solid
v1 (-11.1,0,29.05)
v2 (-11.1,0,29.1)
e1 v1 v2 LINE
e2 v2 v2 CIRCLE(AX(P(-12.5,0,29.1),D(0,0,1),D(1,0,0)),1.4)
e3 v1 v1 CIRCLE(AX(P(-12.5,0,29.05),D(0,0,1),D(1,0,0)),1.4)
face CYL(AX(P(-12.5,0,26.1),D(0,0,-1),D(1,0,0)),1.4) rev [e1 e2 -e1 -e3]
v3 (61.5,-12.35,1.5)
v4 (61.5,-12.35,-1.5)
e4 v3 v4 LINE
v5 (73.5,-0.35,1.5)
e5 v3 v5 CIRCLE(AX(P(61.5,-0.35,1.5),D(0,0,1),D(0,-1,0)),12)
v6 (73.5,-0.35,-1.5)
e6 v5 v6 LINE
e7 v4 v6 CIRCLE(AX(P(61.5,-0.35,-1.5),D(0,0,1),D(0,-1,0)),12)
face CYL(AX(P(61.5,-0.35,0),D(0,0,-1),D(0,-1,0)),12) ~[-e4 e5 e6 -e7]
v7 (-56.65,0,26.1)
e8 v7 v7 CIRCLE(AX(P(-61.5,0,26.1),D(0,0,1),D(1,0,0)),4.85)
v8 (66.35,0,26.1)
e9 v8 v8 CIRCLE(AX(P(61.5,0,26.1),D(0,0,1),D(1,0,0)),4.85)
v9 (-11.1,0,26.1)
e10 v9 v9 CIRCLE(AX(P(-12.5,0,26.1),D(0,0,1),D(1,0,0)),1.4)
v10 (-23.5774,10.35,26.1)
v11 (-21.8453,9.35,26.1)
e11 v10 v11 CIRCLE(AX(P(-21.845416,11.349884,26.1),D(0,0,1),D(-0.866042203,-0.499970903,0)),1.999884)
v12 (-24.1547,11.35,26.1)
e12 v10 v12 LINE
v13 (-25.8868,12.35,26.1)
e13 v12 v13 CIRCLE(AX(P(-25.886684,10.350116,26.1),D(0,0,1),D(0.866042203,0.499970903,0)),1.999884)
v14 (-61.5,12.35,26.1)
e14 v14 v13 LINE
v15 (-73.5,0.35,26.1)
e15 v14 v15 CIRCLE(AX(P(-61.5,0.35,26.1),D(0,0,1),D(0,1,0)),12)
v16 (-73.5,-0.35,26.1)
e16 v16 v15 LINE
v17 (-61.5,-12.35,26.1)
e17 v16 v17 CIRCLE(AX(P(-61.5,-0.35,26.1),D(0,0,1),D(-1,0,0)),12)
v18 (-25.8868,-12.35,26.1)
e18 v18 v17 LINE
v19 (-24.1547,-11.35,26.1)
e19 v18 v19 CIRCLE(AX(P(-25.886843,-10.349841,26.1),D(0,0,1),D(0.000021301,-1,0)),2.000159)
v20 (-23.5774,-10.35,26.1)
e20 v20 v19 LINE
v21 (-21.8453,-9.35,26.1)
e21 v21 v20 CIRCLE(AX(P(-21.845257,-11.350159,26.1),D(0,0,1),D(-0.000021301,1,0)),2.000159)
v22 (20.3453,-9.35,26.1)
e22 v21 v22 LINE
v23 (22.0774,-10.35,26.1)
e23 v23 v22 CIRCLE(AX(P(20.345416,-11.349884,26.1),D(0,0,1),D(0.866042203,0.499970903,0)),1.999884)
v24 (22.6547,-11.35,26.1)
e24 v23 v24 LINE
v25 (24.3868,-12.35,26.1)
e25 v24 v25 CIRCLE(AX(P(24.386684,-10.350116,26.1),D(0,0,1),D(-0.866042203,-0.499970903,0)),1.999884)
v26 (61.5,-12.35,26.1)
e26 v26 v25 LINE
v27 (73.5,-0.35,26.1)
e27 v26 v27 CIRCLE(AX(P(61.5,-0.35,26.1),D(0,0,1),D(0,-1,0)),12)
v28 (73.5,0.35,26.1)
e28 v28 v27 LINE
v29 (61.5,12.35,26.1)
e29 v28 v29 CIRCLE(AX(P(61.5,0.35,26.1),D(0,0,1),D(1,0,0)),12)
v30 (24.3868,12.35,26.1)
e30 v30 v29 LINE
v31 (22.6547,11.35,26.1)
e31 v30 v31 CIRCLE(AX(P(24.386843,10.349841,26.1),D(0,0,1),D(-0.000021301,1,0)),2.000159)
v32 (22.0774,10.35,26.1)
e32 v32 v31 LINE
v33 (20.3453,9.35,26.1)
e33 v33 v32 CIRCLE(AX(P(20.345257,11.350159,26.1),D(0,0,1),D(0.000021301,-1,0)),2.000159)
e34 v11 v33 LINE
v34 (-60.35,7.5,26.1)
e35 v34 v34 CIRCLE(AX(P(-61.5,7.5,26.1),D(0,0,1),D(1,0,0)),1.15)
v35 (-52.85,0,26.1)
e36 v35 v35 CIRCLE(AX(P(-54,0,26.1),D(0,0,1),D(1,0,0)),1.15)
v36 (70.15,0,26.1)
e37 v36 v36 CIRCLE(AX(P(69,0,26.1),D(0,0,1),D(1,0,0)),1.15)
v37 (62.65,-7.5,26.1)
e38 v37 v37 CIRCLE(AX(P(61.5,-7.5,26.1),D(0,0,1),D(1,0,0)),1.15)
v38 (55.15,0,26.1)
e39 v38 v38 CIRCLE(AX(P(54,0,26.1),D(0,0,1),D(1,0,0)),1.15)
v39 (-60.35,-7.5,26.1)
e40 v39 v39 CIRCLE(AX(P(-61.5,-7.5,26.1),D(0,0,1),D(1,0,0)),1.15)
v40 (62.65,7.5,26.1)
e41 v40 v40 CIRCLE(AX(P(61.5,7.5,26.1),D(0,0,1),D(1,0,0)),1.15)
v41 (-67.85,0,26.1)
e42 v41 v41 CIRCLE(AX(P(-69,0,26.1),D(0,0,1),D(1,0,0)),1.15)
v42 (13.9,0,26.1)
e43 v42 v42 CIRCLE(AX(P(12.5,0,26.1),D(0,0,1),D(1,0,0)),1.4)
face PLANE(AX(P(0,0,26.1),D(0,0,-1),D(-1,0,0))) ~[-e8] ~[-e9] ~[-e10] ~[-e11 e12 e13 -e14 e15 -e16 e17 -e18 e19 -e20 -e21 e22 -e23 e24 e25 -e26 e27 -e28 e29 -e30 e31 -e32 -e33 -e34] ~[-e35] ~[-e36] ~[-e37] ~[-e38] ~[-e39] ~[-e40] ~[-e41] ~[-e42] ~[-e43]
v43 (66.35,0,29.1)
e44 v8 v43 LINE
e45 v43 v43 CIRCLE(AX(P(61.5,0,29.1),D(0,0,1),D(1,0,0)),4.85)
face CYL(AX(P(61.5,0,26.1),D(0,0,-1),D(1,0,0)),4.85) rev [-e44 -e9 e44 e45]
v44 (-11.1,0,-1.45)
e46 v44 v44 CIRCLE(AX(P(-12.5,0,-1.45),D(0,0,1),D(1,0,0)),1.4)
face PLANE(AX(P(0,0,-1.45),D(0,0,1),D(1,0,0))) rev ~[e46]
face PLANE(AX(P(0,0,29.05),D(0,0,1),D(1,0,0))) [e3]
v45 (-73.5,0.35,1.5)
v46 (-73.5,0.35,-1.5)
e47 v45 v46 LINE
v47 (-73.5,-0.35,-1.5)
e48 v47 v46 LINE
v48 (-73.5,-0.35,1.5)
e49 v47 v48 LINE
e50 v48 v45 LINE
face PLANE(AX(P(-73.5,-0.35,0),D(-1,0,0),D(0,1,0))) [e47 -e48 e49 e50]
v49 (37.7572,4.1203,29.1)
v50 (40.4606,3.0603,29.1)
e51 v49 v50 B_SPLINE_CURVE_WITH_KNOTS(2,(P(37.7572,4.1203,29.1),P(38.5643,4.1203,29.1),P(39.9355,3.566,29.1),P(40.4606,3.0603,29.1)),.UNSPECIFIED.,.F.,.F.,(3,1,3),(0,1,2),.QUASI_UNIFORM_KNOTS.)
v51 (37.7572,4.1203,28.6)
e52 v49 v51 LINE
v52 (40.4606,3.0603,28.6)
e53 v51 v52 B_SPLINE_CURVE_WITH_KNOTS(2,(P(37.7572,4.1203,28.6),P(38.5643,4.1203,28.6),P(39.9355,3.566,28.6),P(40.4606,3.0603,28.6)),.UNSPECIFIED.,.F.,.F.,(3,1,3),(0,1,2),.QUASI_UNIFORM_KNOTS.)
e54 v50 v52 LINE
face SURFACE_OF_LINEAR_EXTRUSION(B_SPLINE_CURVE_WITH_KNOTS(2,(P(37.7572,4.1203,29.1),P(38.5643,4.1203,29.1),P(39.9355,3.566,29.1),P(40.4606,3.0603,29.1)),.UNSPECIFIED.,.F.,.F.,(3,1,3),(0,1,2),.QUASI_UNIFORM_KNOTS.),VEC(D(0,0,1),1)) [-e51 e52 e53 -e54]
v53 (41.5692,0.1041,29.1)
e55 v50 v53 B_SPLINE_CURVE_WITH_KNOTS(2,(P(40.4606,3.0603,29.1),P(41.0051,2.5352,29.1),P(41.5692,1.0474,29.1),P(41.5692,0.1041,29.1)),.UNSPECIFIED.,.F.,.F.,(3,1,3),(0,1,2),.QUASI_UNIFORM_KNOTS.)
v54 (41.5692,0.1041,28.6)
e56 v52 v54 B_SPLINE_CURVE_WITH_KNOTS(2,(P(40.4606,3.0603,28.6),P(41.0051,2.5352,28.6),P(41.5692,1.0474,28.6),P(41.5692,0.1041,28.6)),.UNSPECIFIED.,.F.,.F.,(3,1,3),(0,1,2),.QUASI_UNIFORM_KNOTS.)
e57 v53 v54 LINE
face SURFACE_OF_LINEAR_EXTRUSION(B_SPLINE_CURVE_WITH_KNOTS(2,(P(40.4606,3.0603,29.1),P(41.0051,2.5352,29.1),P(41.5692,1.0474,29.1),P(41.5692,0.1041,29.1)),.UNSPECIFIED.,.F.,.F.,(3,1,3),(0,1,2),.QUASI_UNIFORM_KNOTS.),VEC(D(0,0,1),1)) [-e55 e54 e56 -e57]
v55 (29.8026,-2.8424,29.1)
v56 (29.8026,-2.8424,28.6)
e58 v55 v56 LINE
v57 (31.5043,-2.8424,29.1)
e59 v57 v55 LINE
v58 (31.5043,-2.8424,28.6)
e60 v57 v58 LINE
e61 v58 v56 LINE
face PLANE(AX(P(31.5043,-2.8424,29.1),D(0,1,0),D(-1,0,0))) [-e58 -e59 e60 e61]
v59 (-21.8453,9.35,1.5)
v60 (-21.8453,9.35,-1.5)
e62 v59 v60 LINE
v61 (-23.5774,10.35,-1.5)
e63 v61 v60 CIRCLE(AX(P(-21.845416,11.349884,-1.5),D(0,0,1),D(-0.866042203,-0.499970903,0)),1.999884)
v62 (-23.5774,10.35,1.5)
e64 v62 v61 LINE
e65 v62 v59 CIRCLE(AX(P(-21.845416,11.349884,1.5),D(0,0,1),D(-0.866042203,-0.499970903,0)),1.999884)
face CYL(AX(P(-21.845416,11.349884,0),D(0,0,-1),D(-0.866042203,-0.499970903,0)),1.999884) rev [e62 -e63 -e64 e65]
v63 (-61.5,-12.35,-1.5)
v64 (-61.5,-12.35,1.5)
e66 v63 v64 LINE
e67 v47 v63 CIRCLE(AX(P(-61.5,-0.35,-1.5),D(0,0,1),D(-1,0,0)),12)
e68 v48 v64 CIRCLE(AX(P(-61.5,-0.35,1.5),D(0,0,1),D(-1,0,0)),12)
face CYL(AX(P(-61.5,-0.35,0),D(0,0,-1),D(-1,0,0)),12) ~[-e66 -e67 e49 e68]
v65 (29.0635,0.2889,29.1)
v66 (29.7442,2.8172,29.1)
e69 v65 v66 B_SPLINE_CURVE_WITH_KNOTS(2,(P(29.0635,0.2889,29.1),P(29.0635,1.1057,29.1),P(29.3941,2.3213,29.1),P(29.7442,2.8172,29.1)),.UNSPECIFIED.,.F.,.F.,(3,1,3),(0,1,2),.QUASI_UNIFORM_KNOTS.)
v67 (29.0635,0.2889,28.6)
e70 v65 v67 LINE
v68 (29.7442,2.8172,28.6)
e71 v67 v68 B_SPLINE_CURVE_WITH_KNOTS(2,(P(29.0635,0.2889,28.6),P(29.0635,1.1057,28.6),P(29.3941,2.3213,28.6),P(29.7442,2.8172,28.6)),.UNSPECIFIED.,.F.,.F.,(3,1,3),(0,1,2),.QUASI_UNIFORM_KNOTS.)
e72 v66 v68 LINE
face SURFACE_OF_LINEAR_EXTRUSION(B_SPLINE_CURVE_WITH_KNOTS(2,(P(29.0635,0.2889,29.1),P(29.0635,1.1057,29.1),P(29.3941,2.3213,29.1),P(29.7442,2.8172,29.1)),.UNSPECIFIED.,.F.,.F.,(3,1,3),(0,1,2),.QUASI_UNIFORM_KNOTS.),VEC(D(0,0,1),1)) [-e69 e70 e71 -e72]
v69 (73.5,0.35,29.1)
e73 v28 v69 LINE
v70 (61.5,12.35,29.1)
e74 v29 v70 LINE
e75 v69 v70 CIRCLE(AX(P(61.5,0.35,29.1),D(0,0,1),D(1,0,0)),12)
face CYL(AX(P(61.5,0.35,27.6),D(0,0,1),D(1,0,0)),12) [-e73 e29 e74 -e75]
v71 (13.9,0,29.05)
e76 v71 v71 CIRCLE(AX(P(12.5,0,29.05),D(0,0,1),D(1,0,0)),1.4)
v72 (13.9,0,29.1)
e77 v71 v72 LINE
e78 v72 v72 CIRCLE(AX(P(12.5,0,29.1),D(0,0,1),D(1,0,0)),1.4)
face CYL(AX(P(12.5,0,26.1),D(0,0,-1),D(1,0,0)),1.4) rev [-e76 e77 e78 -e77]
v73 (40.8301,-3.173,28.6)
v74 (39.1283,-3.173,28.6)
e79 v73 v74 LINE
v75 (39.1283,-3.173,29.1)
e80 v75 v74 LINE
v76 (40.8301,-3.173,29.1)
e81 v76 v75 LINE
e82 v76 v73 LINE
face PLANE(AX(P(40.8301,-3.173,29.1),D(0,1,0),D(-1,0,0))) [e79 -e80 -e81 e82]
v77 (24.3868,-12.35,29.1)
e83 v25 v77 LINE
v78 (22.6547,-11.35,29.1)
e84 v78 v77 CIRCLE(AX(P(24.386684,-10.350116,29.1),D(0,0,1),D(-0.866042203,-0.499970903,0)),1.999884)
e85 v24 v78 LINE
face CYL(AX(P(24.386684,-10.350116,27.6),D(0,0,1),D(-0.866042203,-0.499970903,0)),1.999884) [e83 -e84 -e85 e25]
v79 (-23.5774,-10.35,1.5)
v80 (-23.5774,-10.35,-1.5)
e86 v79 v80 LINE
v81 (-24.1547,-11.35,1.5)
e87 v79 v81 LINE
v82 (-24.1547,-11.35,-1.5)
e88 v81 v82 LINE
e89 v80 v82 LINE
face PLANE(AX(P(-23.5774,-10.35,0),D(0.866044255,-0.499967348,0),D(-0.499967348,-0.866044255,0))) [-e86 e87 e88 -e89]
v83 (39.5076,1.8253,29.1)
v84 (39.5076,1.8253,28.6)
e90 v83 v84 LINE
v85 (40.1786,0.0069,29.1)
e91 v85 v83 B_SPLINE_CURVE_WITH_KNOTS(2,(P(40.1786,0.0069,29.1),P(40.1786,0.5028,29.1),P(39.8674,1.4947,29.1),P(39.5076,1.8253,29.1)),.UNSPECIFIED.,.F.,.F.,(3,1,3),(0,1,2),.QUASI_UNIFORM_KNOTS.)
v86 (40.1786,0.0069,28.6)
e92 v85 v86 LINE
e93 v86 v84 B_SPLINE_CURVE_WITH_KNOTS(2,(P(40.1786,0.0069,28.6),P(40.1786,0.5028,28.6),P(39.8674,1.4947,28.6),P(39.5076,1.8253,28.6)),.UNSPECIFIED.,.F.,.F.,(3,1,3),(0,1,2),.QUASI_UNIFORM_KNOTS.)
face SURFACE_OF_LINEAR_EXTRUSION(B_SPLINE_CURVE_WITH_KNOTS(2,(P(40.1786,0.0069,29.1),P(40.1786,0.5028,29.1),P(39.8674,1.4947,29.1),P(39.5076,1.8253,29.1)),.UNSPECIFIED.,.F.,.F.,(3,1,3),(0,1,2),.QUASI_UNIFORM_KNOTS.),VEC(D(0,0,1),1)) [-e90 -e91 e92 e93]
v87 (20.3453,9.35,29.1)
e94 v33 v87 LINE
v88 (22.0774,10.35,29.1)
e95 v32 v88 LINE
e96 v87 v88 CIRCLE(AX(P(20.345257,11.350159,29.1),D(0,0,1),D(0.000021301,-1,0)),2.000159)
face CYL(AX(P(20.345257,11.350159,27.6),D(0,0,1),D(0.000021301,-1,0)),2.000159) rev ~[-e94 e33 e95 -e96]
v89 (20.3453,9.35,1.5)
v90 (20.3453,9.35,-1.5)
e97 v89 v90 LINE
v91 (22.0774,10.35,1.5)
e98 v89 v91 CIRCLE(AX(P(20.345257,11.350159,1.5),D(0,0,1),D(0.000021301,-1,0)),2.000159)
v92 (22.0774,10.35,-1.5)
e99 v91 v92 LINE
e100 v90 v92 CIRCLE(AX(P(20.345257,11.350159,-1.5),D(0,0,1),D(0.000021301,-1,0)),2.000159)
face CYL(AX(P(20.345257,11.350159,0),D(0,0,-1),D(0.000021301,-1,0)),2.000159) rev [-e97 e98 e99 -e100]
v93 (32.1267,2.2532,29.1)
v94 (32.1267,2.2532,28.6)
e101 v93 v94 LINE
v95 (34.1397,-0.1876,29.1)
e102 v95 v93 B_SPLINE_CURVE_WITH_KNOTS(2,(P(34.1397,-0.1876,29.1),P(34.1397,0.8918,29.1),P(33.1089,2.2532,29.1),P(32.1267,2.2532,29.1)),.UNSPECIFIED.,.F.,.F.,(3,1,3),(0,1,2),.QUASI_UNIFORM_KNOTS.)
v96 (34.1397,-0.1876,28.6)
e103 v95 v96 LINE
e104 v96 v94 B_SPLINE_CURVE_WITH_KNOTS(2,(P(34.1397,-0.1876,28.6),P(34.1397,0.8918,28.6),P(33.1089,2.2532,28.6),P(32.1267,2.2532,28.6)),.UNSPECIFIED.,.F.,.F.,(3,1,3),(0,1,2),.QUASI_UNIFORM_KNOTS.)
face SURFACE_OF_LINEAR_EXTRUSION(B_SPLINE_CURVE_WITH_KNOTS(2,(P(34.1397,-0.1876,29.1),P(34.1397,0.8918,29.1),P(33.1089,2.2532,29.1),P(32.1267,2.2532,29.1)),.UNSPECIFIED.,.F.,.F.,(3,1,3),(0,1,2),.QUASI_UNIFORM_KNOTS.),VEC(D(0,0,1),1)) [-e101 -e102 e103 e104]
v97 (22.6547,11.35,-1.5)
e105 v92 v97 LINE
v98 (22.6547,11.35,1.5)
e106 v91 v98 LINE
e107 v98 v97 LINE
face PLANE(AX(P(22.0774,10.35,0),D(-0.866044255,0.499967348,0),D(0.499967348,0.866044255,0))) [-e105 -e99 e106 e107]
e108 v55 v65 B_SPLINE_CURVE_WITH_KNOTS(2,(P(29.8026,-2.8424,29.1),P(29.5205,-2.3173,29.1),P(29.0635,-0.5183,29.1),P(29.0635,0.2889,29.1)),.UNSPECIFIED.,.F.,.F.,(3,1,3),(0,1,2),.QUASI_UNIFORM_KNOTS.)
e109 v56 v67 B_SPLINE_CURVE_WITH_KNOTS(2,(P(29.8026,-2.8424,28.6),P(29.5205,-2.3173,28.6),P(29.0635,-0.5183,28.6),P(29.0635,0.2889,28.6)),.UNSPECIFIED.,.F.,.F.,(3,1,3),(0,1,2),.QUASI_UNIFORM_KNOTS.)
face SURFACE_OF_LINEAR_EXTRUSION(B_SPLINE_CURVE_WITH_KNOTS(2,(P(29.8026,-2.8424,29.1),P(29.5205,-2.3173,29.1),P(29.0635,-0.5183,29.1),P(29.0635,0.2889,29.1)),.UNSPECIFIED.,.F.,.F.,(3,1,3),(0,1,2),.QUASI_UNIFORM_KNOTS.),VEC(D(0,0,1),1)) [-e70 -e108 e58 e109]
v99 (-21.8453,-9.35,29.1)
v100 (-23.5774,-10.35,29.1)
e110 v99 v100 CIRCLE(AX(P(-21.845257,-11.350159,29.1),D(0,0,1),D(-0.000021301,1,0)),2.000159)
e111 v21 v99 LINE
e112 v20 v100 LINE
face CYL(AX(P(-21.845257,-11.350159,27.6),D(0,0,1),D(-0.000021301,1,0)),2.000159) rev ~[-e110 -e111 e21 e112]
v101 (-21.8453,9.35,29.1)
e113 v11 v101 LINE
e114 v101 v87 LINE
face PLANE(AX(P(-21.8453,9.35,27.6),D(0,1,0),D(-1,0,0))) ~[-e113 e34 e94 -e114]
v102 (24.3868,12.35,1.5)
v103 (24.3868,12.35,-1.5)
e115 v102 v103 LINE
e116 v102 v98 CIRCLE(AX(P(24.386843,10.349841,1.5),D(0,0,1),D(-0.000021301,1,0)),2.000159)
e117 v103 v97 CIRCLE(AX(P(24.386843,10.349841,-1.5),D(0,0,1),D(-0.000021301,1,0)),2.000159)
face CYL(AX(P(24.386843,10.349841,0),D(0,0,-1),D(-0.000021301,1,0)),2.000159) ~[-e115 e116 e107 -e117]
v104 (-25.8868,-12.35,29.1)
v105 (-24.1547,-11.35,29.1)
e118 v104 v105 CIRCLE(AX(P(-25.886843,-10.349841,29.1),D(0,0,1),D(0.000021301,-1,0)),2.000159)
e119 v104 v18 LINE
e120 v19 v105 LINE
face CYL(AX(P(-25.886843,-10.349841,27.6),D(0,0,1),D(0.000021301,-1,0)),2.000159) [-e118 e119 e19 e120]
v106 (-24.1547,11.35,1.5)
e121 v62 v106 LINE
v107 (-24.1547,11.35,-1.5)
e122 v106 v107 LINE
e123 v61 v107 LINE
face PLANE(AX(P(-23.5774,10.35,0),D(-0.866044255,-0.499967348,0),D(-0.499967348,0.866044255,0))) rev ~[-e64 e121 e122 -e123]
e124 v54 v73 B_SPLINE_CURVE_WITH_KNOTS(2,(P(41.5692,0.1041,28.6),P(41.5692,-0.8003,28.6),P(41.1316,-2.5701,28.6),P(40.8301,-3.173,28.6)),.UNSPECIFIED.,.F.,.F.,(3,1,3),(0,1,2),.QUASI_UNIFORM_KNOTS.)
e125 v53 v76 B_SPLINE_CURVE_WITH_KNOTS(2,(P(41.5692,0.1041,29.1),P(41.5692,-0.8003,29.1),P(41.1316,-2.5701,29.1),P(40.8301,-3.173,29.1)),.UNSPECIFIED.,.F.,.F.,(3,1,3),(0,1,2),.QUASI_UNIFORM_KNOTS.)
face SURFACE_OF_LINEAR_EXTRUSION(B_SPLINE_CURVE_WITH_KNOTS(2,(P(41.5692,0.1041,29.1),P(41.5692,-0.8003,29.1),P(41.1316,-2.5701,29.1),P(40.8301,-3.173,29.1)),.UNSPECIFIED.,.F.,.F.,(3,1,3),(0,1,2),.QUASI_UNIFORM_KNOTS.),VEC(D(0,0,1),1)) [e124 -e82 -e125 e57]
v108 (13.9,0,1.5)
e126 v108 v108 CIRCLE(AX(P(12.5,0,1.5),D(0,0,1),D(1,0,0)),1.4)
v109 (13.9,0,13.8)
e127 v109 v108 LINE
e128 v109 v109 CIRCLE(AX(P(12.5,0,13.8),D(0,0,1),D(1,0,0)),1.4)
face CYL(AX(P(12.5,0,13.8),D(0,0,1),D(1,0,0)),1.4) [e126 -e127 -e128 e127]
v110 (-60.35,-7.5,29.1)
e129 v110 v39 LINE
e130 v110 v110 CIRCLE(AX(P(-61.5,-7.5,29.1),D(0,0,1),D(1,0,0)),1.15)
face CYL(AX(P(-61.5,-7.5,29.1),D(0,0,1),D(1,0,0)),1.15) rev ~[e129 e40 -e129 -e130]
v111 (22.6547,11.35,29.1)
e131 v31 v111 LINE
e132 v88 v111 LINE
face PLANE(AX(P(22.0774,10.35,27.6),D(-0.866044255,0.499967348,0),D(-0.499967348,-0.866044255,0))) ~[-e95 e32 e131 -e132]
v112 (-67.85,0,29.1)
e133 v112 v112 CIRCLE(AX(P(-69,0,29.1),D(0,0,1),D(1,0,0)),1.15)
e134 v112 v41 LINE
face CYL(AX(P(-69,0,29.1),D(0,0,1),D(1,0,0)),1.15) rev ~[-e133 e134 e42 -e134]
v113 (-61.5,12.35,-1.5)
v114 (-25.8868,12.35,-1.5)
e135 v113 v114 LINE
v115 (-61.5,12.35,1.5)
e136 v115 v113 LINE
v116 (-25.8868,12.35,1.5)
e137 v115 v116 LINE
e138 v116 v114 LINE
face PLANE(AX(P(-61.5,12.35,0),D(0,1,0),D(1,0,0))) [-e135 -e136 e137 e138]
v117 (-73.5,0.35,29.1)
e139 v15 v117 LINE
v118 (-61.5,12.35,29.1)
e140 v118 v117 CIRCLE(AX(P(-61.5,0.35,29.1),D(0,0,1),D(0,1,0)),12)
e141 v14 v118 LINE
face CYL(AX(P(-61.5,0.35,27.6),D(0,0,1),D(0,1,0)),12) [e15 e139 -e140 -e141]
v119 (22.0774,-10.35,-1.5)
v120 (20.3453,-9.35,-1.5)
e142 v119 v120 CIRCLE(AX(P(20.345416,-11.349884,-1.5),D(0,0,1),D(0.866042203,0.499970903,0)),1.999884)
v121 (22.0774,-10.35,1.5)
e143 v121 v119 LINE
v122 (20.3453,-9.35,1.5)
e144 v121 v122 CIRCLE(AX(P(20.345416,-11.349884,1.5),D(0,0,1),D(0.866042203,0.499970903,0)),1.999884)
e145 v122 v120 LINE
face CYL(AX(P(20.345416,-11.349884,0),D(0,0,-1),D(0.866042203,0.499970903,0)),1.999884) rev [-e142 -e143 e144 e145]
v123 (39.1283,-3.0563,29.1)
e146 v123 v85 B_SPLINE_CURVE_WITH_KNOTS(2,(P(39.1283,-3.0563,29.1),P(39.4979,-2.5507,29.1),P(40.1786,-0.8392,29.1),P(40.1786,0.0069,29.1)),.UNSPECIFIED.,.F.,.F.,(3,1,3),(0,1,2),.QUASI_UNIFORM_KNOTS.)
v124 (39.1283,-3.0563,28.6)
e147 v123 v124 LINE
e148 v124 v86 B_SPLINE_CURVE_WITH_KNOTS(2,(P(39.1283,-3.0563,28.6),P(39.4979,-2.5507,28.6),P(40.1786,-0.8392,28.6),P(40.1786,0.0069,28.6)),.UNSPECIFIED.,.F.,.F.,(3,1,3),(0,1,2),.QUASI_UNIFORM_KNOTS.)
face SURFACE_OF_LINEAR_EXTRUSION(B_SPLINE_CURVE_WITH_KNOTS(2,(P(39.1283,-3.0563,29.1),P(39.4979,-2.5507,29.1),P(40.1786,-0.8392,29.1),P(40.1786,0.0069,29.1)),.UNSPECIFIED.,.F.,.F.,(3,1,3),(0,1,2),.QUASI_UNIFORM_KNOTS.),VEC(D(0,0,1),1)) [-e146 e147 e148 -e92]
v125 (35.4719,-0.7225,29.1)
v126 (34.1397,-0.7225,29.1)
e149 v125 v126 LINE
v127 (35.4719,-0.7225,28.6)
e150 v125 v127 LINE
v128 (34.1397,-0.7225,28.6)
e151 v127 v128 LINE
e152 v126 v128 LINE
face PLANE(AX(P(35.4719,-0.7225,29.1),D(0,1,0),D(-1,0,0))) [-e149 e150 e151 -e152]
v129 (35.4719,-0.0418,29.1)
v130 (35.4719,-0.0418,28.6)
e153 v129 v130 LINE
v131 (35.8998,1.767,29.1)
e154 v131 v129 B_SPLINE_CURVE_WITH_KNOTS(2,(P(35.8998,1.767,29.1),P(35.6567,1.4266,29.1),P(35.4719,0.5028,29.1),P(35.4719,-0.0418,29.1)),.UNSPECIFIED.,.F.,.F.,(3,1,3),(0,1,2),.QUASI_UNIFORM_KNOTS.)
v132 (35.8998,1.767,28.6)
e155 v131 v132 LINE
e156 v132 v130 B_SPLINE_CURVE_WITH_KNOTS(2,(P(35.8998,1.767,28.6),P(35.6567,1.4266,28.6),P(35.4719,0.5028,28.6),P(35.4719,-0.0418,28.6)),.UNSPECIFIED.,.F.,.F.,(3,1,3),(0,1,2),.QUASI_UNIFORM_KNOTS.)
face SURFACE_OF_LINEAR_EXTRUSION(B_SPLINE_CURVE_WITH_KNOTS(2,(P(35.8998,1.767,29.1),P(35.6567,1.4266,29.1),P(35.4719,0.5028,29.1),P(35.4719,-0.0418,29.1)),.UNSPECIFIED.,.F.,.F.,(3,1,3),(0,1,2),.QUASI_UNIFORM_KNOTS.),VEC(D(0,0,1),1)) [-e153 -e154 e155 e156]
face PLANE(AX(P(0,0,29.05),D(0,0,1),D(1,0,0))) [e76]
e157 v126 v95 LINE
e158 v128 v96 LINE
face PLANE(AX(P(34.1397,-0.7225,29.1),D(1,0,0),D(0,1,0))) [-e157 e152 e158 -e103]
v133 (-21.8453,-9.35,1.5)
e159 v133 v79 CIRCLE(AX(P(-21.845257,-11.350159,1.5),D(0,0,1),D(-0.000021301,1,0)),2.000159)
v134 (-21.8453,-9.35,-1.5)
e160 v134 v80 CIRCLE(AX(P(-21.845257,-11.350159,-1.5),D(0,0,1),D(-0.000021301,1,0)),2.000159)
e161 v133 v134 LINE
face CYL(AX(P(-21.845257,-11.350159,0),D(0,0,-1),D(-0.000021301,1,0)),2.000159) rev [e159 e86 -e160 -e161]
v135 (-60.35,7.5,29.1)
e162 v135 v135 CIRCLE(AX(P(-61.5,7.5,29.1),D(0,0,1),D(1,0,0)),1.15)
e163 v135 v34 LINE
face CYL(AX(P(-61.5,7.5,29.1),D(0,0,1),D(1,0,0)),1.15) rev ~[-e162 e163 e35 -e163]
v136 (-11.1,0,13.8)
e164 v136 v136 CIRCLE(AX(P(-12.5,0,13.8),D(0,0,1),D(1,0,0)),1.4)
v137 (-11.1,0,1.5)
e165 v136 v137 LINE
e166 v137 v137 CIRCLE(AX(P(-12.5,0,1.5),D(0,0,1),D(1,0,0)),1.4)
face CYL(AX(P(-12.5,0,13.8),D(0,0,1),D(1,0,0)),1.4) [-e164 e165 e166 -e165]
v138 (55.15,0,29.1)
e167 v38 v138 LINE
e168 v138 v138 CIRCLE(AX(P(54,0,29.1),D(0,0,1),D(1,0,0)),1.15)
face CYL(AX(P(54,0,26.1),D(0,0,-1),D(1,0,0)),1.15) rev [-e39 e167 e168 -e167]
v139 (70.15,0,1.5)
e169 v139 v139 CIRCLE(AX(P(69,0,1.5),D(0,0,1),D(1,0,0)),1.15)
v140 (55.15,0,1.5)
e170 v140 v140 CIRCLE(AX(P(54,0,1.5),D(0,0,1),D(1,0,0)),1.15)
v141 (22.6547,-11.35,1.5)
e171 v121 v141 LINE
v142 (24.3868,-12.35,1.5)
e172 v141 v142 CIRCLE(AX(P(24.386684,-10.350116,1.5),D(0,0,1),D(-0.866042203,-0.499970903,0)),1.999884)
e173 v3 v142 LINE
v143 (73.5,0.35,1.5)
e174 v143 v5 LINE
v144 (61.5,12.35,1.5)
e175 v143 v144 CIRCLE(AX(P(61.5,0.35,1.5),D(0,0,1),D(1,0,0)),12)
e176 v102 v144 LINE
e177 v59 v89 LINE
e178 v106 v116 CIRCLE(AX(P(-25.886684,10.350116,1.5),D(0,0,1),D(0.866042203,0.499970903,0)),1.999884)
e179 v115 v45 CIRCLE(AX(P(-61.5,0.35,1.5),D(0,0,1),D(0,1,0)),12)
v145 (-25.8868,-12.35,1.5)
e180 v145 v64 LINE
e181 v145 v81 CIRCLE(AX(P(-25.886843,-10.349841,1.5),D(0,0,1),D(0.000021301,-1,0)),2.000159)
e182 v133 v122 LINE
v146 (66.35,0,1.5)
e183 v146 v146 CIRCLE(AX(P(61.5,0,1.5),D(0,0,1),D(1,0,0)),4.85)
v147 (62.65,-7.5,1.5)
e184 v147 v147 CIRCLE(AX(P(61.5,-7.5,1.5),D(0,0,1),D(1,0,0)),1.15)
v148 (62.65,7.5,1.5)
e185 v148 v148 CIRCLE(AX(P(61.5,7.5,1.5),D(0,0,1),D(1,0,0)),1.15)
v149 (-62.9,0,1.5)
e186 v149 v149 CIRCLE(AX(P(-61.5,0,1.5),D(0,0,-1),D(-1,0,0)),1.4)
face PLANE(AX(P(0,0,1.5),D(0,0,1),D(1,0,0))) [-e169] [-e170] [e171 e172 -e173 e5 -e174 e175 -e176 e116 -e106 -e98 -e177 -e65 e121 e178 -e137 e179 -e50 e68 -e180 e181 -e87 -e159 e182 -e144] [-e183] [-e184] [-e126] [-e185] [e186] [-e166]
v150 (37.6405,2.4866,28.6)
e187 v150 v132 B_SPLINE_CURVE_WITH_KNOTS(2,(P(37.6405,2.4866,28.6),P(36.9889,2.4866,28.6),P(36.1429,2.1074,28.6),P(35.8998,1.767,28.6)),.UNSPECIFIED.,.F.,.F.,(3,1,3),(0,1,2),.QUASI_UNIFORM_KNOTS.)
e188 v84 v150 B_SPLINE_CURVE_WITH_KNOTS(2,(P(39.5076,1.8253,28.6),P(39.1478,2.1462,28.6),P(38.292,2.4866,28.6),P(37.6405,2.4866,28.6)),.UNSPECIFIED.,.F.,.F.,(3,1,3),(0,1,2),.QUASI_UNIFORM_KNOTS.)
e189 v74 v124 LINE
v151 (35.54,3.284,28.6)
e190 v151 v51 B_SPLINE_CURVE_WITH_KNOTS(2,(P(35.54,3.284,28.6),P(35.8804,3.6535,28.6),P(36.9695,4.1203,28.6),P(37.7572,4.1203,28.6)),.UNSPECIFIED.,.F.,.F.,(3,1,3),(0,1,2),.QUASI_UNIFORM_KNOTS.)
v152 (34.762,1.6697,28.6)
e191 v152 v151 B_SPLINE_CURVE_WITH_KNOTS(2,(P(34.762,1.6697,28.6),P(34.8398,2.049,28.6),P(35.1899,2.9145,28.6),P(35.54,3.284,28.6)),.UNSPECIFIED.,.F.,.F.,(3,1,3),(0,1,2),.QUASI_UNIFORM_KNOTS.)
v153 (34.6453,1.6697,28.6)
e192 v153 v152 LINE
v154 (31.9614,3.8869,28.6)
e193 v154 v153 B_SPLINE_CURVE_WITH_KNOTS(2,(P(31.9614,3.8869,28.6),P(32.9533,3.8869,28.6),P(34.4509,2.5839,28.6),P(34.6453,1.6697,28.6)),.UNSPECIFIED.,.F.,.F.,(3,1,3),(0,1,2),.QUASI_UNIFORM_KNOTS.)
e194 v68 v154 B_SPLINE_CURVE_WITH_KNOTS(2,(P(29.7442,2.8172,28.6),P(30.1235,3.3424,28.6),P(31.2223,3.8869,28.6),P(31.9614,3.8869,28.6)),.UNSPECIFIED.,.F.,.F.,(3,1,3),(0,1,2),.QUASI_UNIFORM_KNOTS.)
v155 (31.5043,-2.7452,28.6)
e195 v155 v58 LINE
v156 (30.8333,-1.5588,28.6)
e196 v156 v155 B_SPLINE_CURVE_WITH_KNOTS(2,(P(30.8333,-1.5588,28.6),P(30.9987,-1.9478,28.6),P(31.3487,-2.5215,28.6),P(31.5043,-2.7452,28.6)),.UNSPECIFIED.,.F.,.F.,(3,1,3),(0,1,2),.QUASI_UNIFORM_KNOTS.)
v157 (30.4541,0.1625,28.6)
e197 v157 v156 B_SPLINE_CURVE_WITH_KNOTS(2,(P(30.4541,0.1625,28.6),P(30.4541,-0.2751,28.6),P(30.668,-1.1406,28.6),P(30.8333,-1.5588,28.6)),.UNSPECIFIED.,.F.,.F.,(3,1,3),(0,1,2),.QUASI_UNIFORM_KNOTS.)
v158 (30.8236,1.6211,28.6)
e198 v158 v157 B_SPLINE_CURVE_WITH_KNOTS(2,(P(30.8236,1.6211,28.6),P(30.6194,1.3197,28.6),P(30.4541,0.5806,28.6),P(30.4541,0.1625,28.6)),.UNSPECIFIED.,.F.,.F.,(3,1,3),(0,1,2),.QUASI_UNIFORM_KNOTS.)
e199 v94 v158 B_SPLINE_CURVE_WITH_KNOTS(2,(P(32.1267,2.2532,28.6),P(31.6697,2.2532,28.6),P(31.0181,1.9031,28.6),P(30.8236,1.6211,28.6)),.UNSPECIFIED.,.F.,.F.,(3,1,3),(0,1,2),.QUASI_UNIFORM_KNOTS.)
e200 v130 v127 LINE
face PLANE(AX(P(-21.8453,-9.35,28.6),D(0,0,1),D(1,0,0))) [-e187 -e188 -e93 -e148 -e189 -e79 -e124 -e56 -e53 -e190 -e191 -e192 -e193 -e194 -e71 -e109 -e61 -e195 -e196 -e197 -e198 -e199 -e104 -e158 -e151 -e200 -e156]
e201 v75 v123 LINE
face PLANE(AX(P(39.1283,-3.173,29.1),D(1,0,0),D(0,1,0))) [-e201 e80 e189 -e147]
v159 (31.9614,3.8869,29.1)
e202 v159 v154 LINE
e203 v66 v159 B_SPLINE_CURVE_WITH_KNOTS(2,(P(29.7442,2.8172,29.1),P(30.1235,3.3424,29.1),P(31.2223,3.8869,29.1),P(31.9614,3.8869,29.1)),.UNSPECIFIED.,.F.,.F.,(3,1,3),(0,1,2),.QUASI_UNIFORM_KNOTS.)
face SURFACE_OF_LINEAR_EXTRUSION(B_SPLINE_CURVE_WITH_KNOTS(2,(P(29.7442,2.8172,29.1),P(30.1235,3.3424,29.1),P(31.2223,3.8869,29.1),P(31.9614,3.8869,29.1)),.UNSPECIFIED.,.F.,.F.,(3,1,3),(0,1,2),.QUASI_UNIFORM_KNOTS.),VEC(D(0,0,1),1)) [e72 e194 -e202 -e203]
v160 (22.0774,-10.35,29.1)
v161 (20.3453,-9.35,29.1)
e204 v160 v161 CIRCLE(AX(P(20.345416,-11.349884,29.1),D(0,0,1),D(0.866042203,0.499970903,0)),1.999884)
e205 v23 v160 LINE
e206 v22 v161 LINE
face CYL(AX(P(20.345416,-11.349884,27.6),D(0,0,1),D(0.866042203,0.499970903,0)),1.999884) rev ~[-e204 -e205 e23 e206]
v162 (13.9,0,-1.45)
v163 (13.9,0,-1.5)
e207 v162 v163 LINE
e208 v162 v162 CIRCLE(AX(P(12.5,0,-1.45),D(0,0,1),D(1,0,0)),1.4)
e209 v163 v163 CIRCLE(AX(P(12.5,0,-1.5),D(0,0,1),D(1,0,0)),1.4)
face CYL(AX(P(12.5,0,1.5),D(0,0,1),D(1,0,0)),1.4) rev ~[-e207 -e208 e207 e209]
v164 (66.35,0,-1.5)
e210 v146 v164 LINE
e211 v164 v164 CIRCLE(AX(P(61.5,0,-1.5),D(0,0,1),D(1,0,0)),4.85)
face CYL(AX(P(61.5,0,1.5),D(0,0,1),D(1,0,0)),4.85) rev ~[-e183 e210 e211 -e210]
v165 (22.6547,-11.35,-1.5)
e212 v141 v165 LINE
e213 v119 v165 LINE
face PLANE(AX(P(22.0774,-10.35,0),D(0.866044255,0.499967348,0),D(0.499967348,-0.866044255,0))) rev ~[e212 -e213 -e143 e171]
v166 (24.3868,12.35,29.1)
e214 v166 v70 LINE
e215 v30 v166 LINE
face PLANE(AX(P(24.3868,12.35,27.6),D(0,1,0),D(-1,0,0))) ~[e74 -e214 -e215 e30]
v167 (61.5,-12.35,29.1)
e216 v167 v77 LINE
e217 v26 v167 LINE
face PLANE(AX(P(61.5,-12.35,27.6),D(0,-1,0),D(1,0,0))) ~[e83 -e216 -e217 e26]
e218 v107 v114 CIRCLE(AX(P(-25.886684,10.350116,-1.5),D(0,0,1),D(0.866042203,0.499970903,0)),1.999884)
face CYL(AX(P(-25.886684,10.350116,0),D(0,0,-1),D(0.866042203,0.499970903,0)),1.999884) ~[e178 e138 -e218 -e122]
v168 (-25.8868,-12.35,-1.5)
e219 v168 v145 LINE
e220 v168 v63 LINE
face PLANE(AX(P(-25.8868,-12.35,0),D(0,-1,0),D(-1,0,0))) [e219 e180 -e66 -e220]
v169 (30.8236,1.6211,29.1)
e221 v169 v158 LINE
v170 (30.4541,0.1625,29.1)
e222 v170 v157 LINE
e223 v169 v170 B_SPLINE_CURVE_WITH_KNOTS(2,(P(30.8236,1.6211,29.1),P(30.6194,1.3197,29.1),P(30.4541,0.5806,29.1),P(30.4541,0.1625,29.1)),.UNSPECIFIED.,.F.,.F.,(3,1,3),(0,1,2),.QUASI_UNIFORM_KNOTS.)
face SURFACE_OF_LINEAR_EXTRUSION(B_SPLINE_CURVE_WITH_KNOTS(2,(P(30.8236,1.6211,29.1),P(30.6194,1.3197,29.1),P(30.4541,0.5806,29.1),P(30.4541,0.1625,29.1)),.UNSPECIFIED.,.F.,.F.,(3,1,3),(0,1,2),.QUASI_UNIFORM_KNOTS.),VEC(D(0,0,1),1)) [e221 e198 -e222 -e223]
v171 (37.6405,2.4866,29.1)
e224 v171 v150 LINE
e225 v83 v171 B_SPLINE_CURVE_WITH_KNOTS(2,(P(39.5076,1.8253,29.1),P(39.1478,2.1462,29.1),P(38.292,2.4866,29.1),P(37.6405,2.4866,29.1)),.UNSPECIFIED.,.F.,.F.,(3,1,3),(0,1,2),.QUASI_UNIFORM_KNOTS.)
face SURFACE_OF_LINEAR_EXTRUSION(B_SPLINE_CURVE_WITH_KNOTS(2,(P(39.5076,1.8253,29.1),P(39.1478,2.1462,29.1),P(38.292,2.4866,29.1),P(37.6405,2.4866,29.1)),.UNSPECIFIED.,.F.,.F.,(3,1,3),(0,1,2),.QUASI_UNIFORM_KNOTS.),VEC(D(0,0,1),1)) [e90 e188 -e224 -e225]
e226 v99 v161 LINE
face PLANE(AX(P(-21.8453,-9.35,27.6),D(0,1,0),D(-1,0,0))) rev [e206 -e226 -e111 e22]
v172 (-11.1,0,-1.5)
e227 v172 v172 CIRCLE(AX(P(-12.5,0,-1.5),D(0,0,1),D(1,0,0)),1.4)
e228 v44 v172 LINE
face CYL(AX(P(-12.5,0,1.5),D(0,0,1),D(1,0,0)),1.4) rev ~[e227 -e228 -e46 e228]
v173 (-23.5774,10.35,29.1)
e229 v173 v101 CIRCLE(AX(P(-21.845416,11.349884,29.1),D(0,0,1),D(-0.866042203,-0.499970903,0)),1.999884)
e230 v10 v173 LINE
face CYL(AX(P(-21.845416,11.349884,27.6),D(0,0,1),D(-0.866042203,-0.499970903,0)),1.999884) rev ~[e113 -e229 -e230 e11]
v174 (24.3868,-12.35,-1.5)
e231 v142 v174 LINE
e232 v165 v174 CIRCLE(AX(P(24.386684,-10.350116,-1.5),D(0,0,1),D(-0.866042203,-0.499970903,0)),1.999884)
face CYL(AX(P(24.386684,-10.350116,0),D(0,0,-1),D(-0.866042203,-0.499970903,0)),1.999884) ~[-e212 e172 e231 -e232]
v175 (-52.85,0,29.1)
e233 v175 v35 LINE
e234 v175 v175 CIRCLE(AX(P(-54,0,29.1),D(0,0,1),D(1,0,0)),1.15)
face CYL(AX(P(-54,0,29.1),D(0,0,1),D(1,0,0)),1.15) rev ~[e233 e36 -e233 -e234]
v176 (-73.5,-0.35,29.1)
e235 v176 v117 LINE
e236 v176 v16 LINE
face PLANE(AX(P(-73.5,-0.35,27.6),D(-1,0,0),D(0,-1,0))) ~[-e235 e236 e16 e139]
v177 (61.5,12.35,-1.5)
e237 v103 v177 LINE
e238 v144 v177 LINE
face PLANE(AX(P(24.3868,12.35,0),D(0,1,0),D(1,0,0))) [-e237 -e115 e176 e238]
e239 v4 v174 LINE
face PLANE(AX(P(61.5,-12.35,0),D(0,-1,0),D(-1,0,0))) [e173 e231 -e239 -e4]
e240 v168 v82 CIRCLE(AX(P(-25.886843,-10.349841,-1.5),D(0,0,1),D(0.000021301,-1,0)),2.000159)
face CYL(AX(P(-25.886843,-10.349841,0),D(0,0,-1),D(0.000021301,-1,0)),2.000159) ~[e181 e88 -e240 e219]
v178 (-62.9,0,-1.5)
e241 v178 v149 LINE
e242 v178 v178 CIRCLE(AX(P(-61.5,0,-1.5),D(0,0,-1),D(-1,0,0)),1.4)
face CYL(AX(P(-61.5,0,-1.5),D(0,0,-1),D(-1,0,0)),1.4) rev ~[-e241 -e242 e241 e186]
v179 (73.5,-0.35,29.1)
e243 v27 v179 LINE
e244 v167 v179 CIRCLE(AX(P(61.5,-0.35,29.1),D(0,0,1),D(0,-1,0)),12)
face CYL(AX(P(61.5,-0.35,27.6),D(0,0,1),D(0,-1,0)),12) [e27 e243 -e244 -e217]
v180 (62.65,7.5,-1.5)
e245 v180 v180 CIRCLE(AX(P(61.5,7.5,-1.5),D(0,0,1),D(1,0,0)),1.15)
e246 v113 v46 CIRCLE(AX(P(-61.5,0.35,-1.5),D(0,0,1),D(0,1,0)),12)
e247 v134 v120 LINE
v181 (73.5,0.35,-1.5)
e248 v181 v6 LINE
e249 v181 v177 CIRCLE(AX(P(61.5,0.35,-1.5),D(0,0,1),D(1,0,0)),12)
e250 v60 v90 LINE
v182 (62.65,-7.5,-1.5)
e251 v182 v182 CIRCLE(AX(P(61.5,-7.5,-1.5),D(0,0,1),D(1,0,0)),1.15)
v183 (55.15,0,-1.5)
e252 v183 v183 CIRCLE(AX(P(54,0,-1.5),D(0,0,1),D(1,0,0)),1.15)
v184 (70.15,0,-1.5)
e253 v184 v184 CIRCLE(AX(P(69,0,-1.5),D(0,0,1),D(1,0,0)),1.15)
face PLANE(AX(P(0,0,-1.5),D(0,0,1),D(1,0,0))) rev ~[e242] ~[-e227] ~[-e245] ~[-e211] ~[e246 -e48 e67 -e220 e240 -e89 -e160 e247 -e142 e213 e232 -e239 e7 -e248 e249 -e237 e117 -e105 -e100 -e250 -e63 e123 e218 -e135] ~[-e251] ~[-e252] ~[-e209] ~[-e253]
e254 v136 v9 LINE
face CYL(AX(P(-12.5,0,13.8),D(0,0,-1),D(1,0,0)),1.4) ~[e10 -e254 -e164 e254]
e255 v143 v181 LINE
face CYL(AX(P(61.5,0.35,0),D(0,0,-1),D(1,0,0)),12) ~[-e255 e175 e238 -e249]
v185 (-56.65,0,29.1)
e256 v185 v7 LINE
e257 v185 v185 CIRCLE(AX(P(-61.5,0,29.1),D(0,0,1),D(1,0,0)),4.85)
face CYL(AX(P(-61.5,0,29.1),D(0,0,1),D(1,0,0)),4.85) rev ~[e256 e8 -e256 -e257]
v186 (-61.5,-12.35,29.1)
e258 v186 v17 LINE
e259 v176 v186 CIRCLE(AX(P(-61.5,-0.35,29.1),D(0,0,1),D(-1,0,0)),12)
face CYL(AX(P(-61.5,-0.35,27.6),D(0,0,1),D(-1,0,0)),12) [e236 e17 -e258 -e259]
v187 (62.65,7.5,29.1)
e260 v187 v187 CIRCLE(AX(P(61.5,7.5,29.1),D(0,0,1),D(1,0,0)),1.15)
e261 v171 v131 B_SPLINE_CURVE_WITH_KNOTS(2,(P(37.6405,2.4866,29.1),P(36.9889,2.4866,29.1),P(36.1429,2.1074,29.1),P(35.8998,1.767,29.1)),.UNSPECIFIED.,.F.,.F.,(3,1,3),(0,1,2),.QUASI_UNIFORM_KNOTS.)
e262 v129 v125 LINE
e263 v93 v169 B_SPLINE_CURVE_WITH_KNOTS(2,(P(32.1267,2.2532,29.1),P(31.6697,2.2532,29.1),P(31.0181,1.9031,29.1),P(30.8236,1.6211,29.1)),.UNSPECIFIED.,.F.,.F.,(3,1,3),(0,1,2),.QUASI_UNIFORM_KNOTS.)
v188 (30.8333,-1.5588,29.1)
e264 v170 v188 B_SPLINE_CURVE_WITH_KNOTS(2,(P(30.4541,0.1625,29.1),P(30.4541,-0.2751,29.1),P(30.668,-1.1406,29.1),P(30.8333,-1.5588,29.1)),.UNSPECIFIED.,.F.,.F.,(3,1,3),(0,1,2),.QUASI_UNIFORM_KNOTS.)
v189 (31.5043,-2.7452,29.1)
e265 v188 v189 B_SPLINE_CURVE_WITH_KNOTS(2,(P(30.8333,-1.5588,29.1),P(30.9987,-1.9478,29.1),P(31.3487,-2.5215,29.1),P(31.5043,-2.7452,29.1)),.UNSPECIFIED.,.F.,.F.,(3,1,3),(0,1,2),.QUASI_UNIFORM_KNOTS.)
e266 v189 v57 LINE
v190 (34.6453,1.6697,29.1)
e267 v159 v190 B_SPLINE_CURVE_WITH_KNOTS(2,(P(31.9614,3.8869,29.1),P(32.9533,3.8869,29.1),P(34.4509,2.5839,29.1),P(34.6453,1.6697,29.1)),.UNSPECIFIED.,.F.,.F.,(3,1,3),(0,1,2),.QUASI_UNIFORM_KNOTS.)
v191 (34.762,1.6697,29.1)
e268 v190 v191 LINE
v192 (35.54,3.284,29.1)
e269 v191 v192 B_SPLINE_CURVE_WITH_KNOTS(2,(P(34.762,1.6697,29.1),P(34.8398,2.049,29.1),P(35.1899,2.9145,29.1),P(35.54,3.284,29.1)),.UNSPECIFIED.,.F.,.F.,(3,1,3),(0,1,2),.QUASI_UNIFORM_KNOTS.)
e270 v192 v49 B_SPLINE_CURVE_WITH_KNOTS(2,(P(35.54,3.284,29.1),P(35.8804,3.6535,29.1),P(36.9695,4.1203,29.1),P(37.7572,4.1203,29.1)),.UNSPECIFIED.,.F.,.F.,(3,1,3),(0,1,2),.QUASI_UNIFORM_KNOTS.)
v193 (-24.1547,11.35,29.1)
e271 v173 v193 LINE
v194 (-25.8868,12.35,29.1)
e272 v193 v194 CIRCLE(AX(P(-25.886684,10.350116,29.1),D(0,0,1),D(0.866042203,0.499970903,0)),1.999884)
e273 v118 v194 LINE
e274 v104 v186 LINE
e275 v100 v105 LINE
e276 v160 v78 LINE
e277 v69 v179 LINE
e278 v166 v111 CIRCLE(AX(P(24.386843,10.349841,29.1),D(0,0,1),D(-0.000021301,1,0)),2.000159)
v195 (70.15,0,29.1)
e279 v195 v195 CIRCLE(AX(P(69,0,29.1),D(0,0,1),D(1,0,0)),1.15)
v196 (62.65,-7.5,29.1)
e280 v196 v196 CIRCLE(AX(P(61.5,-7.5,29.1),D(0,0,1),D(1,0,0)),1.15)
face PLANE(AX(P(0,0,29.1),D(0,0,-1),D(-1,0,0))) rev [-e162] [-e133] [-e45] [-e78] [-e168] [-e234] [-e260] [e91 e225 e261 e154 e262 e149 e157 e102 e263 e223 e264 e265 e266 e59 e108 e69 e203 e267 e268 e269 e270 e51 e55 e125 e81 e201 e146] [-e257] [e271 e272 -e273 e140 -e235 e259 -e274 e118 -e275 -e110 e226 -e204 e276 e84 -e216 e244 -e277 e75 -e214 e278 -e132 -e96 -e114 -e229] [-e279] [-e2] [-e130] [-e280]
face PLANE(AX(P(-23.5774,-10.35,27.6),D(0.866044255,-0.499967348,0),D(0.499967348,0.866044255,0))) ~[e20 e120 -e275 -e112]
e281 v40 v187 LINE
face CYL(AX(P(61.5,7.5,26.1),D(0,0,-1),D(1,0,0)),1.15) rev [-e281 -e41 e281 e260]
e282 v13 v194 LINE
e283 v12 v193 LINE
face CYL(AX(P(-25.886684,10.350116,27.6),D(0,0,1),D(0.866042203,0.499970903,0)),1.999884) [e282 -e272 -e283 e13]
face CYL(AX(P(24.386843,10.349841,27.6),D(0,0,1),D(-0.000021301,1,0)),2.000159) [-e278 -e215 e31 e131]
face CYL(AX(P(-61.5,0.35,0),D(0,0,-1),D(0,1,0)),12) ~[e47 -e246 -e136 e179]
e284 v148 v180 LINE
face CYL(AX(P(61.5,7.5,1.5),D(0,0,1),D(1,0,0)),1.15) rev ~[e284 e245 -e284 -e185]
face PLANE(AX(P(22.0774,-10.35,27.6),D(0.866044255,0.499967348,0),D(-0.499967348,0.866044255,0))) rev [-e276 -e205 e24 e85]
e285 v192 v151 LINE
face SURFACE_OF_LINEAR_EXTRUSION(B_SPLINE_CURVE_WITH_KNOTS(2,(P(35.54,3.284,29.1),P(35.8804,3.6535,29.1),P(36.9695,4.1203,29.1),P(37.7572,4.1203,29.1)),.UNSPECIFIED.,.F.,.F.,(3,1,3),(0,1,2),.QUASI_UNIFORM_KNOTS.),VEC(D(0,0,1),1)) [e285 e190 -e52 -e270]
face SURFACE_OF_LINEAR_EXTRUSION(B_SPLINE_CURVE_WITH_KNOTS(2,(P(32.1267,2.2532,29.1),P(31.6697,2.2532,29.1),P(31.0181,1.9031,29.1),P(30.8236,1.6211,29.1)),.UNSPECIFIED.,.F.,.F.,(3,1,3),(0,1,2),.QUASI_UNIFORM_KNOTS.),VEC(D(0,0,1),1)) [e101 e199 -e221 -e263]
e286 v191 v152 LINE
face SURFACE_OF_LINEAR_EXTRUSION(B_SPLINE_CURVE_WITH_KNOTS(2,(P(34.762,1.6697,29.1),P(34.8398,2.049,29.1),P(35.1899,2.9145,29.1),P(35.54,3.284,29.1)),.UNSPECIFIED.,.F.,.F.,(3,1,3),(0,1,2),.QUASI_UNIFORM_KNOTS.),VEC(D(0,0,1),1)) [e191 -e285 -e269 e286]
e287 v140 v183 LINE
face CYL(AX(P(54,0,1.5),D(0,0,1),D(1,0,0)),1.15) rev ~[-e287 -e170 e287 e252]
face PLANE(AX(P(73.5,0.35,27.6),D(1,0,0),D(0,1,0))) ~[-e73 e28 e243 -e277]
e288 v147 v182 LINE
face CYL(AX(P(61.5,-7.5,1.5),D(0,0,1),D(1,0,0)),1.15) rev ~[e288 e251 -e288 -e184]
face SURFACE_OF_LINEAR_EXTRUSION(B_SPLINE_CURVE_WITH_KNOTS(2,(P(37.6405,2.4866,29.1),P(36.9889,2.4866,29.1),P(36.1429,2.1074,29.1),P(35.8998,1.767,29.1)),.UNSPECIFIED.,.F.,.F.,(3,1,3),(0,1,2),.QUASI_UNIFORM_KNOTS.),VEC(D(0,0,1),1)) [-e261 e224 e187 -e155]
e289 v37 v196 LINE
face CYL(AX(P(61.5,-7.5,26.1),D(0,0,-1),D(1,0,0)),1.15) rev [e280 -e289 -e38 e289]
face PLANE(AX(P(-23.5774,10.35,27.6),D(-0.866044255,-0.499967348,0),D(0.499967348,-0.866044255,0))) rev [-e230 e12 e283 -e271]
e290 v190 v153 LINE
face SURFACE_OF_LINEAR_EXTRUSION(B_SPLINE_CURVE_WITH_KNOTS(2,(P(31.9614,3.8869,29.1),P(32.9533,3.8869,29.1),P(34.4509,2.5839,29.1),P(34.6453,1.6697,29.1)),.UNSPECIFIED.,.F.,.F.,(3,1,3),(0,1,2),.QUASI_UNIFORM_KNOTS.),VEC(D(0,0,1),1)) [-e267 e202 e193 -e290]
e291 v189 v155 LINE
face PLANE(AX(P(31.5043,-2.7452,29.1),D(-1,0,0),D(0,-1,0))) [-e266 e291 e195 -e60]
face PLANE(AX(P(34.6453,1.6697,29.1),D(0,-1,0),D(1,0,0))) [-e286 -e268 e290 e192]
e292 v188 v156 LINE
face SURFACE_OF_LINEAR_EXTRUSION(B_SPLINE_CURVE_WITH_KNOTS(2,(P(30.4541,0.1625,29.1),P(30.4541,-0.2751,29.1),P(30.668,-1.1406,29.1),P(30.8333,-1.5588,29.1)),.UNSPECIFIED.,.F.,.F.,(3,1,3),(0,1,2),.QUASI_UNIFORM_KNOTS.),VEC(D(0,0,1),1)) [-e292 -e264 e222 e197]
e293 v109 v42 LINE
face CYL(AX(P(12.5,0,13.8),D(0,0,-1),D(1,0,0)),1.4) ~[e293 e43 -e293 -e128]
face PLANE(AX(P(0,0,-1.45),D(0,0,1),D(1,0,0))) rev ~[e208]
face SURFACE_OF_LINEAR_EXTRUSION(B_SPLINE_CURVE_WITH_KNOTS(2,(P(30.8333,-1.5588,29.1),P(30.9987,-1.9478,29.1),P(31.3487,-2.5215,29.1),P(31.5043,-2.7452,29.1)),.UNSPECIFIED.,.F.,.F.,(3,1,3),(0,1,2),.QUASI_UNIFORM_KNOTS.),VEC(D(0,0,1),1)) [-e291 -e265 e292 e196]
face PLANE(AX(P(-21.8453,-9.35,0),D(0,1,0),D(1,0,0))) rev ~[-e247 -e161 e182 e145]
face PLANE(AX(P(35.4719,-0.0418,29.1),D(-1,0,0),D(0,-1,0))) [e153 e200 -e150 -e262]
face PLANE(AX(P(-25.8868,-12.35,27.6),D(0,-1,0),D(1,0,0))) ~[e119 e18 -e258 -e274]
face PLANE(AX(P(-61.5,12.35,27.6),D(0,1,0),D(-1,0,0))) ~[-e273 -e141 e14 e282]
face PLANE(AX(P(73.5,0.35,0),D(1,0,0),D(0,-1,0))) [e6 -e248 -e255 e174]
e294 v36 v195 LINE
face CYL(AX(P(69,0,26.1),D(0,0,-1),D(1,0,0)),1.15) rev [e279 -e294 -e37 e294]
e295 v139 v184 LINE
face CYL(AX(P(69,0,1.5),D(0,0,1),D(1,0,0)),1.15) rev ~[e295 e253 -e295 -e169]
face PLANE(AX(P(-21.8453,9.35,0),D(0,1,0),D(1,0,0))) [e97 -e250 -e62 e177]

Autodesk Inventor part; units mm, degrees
ref_plane "YZ Plane" through (0, 0, 0) normal (1, 0, 0) x (0, 1, 0)
ref_plane "XZ Plane" through (0, 0, 0) normal (0, 1, 0) x (-1, 0, 0)
sketch "Boceto1" plane through (0, 0, 0) normal (0, 0, 1) x (1, 0, 0)
  line L0 (-73.5, -0.35) -> (-73.5, 0.35)
  line L1 (73.5, 0.35) -> (73.5, -0.35)
  line L2 (73.5, -12.35) -> (-73.5, 12.35) construction
  line L3 (-73.5, -12.35) -> (73.5, 12.35) construction
  arc A0 (-61.5, 12.35) -> (-73.5, 0.35) centre (-61.5, 0.35) ccw
  arc A1 (-73.5, -0.35) -> (-61.5, -12.35) centre (-61.5, -0.35) ccw
  arc A2 (61.5, -12.35) -> (73.5, -0.35) centre (61.5, -0.35) ccw
  arc A3 (73.5, 0.35) -> (61.5, 12.35) centre (61.5, 0.35) ccw
  line L4 (-21.8453, 9.35) -> (20.3453, 9.35)
  line L5 (22.0774, 10.35) -> (22.6547, 11.35)
  line L6 (-23.5774, 10.35) -> (-24.1547, 11.35)
  line L7 (-61.5, 12.35) -> (-25.8868, 12.35)
  line L8 (24.3868, 12.35) -> (61.5, 12.35)
  line L9 (0, 0) -> (44.6229, 0) construction
  line L10 (-21.8453, -9.35) -> (20.3453, -9.35)
  line L11 (22.0774, -10.35) -> (22.6547, -11.35)
  line L12 (-23.5774, -10.35) -> (-24.1547, -11.35)
  line L13 (61.5, -12.35) -> (24.3868, -12.35)
  line L14 (-25.8868, -12.35) -> (-61.5, -12.35)
  arc A4 (-24.1547, 11.35) -> (-25.8868, 12.35) centre (-25.8868, 10.35) ccw
  arc A5 (-23.5774, 10.35) -> (-21.8453, 9.35) centre (-21.8453, 11.35) ccw
  arc A6 (20.3453, 9.35) -> (22.0774, 10.35) centre (20.3453, 11.35) ccw
  arc A7 (24.3868, 12.35) -> (22.6547, 11.35) centre (24.3868, 10.35) ccw
  arc A8 (22.6547, -11.35) -> (24.3868, -12.35) centre (24.3868, -10.35) ccw
  arc A9 (22.0774, -10.35) -> (20.3453, -9.35) centre (20.3453, -11.35) ccw
  arc A10 (-21.8453, -9.35) -> (-23.5774, -10.35) centre (-21.8453, -11.35) ccw
  arc A11 (-25.8868, -12.35) -> (-24.1547, -11.35) centre (-25.8868, -10.35) ccw
  point P0 (-23, 9.35)
  point P1 (21.5, 9.35)
  point P2 (73.5, 0)
  point P3 (23.2321, 12.35)
  point P4 (-24.7321, 12.35)
  point P5 (-23, -9.35)
  point P6 (21.5, -9.35)
  point P7 (23.2321, -12.35)
  point P8 (-24.7321, -12.35)
  dimension "d0" = 147
  dimension "d1" = 24.7
  dimension "d2" = 12
  dimension "d5" = 3
  dimension "d6" = 120
  dimension "d7" = 120
  dimension "d8" = 52
  dimension "d9" = 12
  dimension "d10" = 2
  dimension "d11" = 2
extrude "Extrusión1" add sketch "Boceto1" along normal mid plane 3
sketch "Boceto2" plane through (0, 0, 1.5) normal (0, 0, 1) x (1, 0, 0)
  arc A0 (73.5, 0.35) -> (61.5, 12.35) centre (61.5, 0.35) ccw construction
  circle A1 centre (61.5, 0) radius 7.5 construction
  circle A2 centre (61.5, 0) radius 4.85
  circle A3 centre (54, 0) radius 1.15
  circle A4 centre (61.5, 0) radius 7.5 construction
  circle A5 centre (61.5, -7.5) radius 1.15
  circle A6 centre (61.5, 0) radius 7.5 construction
  circle A7 centre (69, 0) radius 1.15
  circle A8 centre (61.5, 0) radius 7.5 construction
  circle A9 centre (61.5, 7.5) radius 1.15
  point P0 (0, 0)
  dimension "d14" = 15
  dimension "d15" = 9.7
  dimension "d16" = 2.3
  dimension "d19" = 360
extrude "Extrusión2" cut sketch "Boceto2" against normal up to surface (3 mm away)
sketch "Boceto3" plane through (0, 0, 1.5) normal (0, 0, 1) x (1, 0, 0)
  arc A0 (-61.5, 12.35) -> (-73.5, 0.35) centre (-61.5, 0.35) ccw construction
  circle A1 centre (-12.5, 0) radius 1.4
  circle A2 centre (12.5, 0) radius 1.4
  line L0 (0, 0) -> (0, 9) construction
  dimension "d24" = 2.8
  dimension "d25" = 2.8
  dimension "d26" = 25
  dimension "d27" = 12.5
extrude "Extrusión3" cut sketch "Boceto3" against normal up to surface (3 mm away)
ref_plane "Plano de trabajo1" through (0, 0, 13.8) normal (0, 0, 1) x (1, 0, 0)
mirror "Simetría1" about plane through (0, 0, 13.8) normal (0, 0, 1) of "Extrusión1", "Extrusión2", "Extrusión3"
sketch "Boceto4" plane through (-21.8453, -9.35, 29.1) normal (0, 0, 1) x (1, 0, 0)
  line L0 (21.8453, 9.35) -> (21.8453, 51) construction
  circle A0 centre (83.3453, 9.35) radius 4.85 projected
  circle A1 centre (75.8453, 9.35) radius 1.15 projected
  circle A2 centre (83.3453, 16.85) radius 1.15 projected
  circle A3 centre (90.8453, 9.35) radius 1.15 projected
  circle A4 centre (83.3453, 1.85) radius 1.15 projected
  circle A5 centre (-39.6547, 9.35) radius 4.85
  circle A6 centre (-32.1547, 9.35) radius 1.15
  circle A7 centre (-39.6547, 16.85) radius 1.15
  circle A8 centre (-47.1547, 9.35) radius 1.15
  circle A9 centre (-39.6547, 1.85) radius 1.15
extrude "Extrusión4" cut sketch "Boceto4" against normal up to surface (3 mm away) contours A5 | A6 | A7 | A8 | A9
sketch "Boceto5" plane through (0, 0, -1.5) normal (0, 0, -1) x (-1, 0, 0)
  arc A0 (73.5, 0.35) -> (61.5, 12.35) centre (61.5, 0.35) ccw construction
  circle A1 centre (61.5, 0) radius 1.4
  point P0 (0, 0)
  dimension "d33" = 2.8
extrude "Extrusión5" cut sketch "Boceto5" against normal up to surface (3 mm away)
sketch "Boceto6" plane through (0, 0, 13.8) normal (0, 0, 1) x (1, 0, 0)
  circle A0 centre (-12.5, 0) radius 1.4 projected
  circle A1 centre (12.5, 0) radius 1.4 projected
  point P0 (0, 0)
extrude "Extrusión6" add sketch "Boceto6" along normal mid plane 30.5
sketch "Boceto7" plane through (-21.8453, -9.35, 29.1) normal (0, 0, 1) x (1, 0, 0)
  line L0 (50.9088, 5.399) -> (50.9088, 24.6396) construction
  line L1 (50.9088, 24.6396) -> (65.6599, 24.6396) construction
  line L2 (65.6599, 24.6396) -> (65.6599, 5.399) construction
  line L3 (65.6599, 5.399) -> (50.9088, 5.399) construction
  spline S0 degree 2 poles (52.2994, 9.5125) (52.2994, 9.0749) (52.5133, 8.2094) (52.6786, 7.7912) knots 0 0 0 1 2 2 2
  spline S1 degree 2 poles (52.6786, 7.7912) (52.844, 7.4022) (53.194, 6.8285) (53.3496, 6.6048) knots 0 0 0 1 2 2 2
  line L4 (53.3496, 6.6048) -> (53.3496, 6.5076)
  line L5 (53.3496, 6.5076) -> (51.6479, 6.5076)
  spline S2 degree 2 poles (51.6479, 6.5076) (51.3658, 7.0327) (50.9088, 8.8317) (50.9088, 9.6389) knots 0 0 0 1 2 2 2
  spline S3 degree 2 poles (50.9088, 9.6389) (50.9088, 10.4557) (51.2394, 11.6713) (51.5895, 12.1672) knots 0 0 0 1 2 2 2
  spline S4 degree 2 poles (51.5895, 12.1672) (51.9688, 12.6924) (53.0676, 13.2369) (53.8067, 13.2369) knots 0 0 0 1 2 2 2
  spline S5 degree 2 poles (53.8067, 13.2369) (54.7986, 13.2369) (56.2962, 11.9339) (56.4906, 11.0197) knots 0 0 0 1 2 2 2
  line L6 (56.4906, 11.0197) -> (56.6073, 11.0197)
  spline S6 degree 2 poles (56.6073, 11.0197) (56.6851, 11.399) (57.0352, 12.2645) (57.3853, 12.634) knots 0 0 0 1 2 2 2
  spline S7 degree 2 poles (57.3853, 12.634) (57.7257, 13.0035) (58.8148, 13.4703) (59.6025, 13.4703) knots 0 0 0 1 2 2 2
  spline S8 degree 2 poles (59.6025, 13.4703) (60.4096, 13.4703) (61.7808, 12.916) (62.3059, 12.4103) knots 0 0 0 1 2 2 2
  spline S9 degree 2 poles (62.3059, 12.4103) (62.8504, 11.8852) (63.4145, 10.3974) (63.4145, 9.4541) knots 0 0 0 1 2 2 2
  spline S10 degree 2 poles (63.4145, 9.4541) (63.4145, 8.5497) (62.9769, 6.7799) (62.6754, 6.177) knots 0 0 0 1 2 2 2
  line L7 (62.6754, 6.177) -> (60.9736, 6.177)
  line L8 (60.9736, 6.177) -> (60.9736, 6.2937)
  spline S11 degree 2 poles (60.9736, 6.2937) (61.3432, 6.7993) (62.0239, 8.5108) (62.0239, 9.3569) knots 0 0 0 1 2 2 2
  spline S12 degree 2 poles (62.0239, 9.3569) (62.0239, 9.8528) (61.7127, 10.8447) (61.3529, 11.1753) knots 0 0 0 1 2 2 2
  spline S13 degree 2 poles (61.3529, 11.1753) (60.9931, 11.4962) (60.1373, 11.8366) (59.4858, 11.8366) knots 0 0 0 1 2 2 2
  spline S14 degree 2 poles (59.4858, 11.8366) (58.8342, 11.8366) (57.9882, 11.4574) (57.7451, 11.117) knots 0 0 0 1 2 2 2
  spline S15 degree 2 poles (57.7451, 11.117) (57.502, 10.7766) (57.3172, 9.8528) (57.3172, 9.3082) knots 0 0 0 1 2 2 2
  line L9 (57.3172, 9.3082) -> (57.3172, 8.6275)
  line L10 (57.3172, 8.6275) -> (55.985, 8.6275)
  line L11 (55.985, 8.6275) -> (55.985, 9.1624)
  spline S16 degree 2 poles (55.985, 9.1624) (55.985, 10.2418) (54.9542, 11.6032) (53.972, 11.6032) knots 0 0 0 1 2 2 2
  spline S17 degree 2 poles (53.972, 11.6032) (53.515, 11.6032) (52.8634, 11.2531) (52.6689, 10.9711) knots 0 0 0 1 2 2 2
  spline S18 degree 2 poles (52.6689, 10.9711) (52.4647, 10.6697) (52.2994, 9.9306) (52.2994, 9.5125) knots 0 0 0 1 2 2 2
  point P0 (21.8453, 9.35)
extrude "Extrusión7" cut sketch "Boceto7" against normal blind 0.5
equation "\"Radio_pliegue\" = Grosor"
equation "\"Anchura_desahogo_plegado\" = Grosor"
equation "\"Profundidad_desahogo_plegado\" = 0.5 * Grosor"
equation "\"Tamaño_destalonado\" = 4 * Grosor"
equation "\"Remanente_mínimo\" = 2 * Grosor"
equation "\"Radiodetransición\" = Radio_pliegue"
equation "\"Tamaño_de_radio_de_Jacobi\" = Radio_pliegue"
equation "\"TamañoSeparación\" = Grosor"
equation "\"Grosor\" = 0.5"
properties part number "Pieza_eslabon_3"
